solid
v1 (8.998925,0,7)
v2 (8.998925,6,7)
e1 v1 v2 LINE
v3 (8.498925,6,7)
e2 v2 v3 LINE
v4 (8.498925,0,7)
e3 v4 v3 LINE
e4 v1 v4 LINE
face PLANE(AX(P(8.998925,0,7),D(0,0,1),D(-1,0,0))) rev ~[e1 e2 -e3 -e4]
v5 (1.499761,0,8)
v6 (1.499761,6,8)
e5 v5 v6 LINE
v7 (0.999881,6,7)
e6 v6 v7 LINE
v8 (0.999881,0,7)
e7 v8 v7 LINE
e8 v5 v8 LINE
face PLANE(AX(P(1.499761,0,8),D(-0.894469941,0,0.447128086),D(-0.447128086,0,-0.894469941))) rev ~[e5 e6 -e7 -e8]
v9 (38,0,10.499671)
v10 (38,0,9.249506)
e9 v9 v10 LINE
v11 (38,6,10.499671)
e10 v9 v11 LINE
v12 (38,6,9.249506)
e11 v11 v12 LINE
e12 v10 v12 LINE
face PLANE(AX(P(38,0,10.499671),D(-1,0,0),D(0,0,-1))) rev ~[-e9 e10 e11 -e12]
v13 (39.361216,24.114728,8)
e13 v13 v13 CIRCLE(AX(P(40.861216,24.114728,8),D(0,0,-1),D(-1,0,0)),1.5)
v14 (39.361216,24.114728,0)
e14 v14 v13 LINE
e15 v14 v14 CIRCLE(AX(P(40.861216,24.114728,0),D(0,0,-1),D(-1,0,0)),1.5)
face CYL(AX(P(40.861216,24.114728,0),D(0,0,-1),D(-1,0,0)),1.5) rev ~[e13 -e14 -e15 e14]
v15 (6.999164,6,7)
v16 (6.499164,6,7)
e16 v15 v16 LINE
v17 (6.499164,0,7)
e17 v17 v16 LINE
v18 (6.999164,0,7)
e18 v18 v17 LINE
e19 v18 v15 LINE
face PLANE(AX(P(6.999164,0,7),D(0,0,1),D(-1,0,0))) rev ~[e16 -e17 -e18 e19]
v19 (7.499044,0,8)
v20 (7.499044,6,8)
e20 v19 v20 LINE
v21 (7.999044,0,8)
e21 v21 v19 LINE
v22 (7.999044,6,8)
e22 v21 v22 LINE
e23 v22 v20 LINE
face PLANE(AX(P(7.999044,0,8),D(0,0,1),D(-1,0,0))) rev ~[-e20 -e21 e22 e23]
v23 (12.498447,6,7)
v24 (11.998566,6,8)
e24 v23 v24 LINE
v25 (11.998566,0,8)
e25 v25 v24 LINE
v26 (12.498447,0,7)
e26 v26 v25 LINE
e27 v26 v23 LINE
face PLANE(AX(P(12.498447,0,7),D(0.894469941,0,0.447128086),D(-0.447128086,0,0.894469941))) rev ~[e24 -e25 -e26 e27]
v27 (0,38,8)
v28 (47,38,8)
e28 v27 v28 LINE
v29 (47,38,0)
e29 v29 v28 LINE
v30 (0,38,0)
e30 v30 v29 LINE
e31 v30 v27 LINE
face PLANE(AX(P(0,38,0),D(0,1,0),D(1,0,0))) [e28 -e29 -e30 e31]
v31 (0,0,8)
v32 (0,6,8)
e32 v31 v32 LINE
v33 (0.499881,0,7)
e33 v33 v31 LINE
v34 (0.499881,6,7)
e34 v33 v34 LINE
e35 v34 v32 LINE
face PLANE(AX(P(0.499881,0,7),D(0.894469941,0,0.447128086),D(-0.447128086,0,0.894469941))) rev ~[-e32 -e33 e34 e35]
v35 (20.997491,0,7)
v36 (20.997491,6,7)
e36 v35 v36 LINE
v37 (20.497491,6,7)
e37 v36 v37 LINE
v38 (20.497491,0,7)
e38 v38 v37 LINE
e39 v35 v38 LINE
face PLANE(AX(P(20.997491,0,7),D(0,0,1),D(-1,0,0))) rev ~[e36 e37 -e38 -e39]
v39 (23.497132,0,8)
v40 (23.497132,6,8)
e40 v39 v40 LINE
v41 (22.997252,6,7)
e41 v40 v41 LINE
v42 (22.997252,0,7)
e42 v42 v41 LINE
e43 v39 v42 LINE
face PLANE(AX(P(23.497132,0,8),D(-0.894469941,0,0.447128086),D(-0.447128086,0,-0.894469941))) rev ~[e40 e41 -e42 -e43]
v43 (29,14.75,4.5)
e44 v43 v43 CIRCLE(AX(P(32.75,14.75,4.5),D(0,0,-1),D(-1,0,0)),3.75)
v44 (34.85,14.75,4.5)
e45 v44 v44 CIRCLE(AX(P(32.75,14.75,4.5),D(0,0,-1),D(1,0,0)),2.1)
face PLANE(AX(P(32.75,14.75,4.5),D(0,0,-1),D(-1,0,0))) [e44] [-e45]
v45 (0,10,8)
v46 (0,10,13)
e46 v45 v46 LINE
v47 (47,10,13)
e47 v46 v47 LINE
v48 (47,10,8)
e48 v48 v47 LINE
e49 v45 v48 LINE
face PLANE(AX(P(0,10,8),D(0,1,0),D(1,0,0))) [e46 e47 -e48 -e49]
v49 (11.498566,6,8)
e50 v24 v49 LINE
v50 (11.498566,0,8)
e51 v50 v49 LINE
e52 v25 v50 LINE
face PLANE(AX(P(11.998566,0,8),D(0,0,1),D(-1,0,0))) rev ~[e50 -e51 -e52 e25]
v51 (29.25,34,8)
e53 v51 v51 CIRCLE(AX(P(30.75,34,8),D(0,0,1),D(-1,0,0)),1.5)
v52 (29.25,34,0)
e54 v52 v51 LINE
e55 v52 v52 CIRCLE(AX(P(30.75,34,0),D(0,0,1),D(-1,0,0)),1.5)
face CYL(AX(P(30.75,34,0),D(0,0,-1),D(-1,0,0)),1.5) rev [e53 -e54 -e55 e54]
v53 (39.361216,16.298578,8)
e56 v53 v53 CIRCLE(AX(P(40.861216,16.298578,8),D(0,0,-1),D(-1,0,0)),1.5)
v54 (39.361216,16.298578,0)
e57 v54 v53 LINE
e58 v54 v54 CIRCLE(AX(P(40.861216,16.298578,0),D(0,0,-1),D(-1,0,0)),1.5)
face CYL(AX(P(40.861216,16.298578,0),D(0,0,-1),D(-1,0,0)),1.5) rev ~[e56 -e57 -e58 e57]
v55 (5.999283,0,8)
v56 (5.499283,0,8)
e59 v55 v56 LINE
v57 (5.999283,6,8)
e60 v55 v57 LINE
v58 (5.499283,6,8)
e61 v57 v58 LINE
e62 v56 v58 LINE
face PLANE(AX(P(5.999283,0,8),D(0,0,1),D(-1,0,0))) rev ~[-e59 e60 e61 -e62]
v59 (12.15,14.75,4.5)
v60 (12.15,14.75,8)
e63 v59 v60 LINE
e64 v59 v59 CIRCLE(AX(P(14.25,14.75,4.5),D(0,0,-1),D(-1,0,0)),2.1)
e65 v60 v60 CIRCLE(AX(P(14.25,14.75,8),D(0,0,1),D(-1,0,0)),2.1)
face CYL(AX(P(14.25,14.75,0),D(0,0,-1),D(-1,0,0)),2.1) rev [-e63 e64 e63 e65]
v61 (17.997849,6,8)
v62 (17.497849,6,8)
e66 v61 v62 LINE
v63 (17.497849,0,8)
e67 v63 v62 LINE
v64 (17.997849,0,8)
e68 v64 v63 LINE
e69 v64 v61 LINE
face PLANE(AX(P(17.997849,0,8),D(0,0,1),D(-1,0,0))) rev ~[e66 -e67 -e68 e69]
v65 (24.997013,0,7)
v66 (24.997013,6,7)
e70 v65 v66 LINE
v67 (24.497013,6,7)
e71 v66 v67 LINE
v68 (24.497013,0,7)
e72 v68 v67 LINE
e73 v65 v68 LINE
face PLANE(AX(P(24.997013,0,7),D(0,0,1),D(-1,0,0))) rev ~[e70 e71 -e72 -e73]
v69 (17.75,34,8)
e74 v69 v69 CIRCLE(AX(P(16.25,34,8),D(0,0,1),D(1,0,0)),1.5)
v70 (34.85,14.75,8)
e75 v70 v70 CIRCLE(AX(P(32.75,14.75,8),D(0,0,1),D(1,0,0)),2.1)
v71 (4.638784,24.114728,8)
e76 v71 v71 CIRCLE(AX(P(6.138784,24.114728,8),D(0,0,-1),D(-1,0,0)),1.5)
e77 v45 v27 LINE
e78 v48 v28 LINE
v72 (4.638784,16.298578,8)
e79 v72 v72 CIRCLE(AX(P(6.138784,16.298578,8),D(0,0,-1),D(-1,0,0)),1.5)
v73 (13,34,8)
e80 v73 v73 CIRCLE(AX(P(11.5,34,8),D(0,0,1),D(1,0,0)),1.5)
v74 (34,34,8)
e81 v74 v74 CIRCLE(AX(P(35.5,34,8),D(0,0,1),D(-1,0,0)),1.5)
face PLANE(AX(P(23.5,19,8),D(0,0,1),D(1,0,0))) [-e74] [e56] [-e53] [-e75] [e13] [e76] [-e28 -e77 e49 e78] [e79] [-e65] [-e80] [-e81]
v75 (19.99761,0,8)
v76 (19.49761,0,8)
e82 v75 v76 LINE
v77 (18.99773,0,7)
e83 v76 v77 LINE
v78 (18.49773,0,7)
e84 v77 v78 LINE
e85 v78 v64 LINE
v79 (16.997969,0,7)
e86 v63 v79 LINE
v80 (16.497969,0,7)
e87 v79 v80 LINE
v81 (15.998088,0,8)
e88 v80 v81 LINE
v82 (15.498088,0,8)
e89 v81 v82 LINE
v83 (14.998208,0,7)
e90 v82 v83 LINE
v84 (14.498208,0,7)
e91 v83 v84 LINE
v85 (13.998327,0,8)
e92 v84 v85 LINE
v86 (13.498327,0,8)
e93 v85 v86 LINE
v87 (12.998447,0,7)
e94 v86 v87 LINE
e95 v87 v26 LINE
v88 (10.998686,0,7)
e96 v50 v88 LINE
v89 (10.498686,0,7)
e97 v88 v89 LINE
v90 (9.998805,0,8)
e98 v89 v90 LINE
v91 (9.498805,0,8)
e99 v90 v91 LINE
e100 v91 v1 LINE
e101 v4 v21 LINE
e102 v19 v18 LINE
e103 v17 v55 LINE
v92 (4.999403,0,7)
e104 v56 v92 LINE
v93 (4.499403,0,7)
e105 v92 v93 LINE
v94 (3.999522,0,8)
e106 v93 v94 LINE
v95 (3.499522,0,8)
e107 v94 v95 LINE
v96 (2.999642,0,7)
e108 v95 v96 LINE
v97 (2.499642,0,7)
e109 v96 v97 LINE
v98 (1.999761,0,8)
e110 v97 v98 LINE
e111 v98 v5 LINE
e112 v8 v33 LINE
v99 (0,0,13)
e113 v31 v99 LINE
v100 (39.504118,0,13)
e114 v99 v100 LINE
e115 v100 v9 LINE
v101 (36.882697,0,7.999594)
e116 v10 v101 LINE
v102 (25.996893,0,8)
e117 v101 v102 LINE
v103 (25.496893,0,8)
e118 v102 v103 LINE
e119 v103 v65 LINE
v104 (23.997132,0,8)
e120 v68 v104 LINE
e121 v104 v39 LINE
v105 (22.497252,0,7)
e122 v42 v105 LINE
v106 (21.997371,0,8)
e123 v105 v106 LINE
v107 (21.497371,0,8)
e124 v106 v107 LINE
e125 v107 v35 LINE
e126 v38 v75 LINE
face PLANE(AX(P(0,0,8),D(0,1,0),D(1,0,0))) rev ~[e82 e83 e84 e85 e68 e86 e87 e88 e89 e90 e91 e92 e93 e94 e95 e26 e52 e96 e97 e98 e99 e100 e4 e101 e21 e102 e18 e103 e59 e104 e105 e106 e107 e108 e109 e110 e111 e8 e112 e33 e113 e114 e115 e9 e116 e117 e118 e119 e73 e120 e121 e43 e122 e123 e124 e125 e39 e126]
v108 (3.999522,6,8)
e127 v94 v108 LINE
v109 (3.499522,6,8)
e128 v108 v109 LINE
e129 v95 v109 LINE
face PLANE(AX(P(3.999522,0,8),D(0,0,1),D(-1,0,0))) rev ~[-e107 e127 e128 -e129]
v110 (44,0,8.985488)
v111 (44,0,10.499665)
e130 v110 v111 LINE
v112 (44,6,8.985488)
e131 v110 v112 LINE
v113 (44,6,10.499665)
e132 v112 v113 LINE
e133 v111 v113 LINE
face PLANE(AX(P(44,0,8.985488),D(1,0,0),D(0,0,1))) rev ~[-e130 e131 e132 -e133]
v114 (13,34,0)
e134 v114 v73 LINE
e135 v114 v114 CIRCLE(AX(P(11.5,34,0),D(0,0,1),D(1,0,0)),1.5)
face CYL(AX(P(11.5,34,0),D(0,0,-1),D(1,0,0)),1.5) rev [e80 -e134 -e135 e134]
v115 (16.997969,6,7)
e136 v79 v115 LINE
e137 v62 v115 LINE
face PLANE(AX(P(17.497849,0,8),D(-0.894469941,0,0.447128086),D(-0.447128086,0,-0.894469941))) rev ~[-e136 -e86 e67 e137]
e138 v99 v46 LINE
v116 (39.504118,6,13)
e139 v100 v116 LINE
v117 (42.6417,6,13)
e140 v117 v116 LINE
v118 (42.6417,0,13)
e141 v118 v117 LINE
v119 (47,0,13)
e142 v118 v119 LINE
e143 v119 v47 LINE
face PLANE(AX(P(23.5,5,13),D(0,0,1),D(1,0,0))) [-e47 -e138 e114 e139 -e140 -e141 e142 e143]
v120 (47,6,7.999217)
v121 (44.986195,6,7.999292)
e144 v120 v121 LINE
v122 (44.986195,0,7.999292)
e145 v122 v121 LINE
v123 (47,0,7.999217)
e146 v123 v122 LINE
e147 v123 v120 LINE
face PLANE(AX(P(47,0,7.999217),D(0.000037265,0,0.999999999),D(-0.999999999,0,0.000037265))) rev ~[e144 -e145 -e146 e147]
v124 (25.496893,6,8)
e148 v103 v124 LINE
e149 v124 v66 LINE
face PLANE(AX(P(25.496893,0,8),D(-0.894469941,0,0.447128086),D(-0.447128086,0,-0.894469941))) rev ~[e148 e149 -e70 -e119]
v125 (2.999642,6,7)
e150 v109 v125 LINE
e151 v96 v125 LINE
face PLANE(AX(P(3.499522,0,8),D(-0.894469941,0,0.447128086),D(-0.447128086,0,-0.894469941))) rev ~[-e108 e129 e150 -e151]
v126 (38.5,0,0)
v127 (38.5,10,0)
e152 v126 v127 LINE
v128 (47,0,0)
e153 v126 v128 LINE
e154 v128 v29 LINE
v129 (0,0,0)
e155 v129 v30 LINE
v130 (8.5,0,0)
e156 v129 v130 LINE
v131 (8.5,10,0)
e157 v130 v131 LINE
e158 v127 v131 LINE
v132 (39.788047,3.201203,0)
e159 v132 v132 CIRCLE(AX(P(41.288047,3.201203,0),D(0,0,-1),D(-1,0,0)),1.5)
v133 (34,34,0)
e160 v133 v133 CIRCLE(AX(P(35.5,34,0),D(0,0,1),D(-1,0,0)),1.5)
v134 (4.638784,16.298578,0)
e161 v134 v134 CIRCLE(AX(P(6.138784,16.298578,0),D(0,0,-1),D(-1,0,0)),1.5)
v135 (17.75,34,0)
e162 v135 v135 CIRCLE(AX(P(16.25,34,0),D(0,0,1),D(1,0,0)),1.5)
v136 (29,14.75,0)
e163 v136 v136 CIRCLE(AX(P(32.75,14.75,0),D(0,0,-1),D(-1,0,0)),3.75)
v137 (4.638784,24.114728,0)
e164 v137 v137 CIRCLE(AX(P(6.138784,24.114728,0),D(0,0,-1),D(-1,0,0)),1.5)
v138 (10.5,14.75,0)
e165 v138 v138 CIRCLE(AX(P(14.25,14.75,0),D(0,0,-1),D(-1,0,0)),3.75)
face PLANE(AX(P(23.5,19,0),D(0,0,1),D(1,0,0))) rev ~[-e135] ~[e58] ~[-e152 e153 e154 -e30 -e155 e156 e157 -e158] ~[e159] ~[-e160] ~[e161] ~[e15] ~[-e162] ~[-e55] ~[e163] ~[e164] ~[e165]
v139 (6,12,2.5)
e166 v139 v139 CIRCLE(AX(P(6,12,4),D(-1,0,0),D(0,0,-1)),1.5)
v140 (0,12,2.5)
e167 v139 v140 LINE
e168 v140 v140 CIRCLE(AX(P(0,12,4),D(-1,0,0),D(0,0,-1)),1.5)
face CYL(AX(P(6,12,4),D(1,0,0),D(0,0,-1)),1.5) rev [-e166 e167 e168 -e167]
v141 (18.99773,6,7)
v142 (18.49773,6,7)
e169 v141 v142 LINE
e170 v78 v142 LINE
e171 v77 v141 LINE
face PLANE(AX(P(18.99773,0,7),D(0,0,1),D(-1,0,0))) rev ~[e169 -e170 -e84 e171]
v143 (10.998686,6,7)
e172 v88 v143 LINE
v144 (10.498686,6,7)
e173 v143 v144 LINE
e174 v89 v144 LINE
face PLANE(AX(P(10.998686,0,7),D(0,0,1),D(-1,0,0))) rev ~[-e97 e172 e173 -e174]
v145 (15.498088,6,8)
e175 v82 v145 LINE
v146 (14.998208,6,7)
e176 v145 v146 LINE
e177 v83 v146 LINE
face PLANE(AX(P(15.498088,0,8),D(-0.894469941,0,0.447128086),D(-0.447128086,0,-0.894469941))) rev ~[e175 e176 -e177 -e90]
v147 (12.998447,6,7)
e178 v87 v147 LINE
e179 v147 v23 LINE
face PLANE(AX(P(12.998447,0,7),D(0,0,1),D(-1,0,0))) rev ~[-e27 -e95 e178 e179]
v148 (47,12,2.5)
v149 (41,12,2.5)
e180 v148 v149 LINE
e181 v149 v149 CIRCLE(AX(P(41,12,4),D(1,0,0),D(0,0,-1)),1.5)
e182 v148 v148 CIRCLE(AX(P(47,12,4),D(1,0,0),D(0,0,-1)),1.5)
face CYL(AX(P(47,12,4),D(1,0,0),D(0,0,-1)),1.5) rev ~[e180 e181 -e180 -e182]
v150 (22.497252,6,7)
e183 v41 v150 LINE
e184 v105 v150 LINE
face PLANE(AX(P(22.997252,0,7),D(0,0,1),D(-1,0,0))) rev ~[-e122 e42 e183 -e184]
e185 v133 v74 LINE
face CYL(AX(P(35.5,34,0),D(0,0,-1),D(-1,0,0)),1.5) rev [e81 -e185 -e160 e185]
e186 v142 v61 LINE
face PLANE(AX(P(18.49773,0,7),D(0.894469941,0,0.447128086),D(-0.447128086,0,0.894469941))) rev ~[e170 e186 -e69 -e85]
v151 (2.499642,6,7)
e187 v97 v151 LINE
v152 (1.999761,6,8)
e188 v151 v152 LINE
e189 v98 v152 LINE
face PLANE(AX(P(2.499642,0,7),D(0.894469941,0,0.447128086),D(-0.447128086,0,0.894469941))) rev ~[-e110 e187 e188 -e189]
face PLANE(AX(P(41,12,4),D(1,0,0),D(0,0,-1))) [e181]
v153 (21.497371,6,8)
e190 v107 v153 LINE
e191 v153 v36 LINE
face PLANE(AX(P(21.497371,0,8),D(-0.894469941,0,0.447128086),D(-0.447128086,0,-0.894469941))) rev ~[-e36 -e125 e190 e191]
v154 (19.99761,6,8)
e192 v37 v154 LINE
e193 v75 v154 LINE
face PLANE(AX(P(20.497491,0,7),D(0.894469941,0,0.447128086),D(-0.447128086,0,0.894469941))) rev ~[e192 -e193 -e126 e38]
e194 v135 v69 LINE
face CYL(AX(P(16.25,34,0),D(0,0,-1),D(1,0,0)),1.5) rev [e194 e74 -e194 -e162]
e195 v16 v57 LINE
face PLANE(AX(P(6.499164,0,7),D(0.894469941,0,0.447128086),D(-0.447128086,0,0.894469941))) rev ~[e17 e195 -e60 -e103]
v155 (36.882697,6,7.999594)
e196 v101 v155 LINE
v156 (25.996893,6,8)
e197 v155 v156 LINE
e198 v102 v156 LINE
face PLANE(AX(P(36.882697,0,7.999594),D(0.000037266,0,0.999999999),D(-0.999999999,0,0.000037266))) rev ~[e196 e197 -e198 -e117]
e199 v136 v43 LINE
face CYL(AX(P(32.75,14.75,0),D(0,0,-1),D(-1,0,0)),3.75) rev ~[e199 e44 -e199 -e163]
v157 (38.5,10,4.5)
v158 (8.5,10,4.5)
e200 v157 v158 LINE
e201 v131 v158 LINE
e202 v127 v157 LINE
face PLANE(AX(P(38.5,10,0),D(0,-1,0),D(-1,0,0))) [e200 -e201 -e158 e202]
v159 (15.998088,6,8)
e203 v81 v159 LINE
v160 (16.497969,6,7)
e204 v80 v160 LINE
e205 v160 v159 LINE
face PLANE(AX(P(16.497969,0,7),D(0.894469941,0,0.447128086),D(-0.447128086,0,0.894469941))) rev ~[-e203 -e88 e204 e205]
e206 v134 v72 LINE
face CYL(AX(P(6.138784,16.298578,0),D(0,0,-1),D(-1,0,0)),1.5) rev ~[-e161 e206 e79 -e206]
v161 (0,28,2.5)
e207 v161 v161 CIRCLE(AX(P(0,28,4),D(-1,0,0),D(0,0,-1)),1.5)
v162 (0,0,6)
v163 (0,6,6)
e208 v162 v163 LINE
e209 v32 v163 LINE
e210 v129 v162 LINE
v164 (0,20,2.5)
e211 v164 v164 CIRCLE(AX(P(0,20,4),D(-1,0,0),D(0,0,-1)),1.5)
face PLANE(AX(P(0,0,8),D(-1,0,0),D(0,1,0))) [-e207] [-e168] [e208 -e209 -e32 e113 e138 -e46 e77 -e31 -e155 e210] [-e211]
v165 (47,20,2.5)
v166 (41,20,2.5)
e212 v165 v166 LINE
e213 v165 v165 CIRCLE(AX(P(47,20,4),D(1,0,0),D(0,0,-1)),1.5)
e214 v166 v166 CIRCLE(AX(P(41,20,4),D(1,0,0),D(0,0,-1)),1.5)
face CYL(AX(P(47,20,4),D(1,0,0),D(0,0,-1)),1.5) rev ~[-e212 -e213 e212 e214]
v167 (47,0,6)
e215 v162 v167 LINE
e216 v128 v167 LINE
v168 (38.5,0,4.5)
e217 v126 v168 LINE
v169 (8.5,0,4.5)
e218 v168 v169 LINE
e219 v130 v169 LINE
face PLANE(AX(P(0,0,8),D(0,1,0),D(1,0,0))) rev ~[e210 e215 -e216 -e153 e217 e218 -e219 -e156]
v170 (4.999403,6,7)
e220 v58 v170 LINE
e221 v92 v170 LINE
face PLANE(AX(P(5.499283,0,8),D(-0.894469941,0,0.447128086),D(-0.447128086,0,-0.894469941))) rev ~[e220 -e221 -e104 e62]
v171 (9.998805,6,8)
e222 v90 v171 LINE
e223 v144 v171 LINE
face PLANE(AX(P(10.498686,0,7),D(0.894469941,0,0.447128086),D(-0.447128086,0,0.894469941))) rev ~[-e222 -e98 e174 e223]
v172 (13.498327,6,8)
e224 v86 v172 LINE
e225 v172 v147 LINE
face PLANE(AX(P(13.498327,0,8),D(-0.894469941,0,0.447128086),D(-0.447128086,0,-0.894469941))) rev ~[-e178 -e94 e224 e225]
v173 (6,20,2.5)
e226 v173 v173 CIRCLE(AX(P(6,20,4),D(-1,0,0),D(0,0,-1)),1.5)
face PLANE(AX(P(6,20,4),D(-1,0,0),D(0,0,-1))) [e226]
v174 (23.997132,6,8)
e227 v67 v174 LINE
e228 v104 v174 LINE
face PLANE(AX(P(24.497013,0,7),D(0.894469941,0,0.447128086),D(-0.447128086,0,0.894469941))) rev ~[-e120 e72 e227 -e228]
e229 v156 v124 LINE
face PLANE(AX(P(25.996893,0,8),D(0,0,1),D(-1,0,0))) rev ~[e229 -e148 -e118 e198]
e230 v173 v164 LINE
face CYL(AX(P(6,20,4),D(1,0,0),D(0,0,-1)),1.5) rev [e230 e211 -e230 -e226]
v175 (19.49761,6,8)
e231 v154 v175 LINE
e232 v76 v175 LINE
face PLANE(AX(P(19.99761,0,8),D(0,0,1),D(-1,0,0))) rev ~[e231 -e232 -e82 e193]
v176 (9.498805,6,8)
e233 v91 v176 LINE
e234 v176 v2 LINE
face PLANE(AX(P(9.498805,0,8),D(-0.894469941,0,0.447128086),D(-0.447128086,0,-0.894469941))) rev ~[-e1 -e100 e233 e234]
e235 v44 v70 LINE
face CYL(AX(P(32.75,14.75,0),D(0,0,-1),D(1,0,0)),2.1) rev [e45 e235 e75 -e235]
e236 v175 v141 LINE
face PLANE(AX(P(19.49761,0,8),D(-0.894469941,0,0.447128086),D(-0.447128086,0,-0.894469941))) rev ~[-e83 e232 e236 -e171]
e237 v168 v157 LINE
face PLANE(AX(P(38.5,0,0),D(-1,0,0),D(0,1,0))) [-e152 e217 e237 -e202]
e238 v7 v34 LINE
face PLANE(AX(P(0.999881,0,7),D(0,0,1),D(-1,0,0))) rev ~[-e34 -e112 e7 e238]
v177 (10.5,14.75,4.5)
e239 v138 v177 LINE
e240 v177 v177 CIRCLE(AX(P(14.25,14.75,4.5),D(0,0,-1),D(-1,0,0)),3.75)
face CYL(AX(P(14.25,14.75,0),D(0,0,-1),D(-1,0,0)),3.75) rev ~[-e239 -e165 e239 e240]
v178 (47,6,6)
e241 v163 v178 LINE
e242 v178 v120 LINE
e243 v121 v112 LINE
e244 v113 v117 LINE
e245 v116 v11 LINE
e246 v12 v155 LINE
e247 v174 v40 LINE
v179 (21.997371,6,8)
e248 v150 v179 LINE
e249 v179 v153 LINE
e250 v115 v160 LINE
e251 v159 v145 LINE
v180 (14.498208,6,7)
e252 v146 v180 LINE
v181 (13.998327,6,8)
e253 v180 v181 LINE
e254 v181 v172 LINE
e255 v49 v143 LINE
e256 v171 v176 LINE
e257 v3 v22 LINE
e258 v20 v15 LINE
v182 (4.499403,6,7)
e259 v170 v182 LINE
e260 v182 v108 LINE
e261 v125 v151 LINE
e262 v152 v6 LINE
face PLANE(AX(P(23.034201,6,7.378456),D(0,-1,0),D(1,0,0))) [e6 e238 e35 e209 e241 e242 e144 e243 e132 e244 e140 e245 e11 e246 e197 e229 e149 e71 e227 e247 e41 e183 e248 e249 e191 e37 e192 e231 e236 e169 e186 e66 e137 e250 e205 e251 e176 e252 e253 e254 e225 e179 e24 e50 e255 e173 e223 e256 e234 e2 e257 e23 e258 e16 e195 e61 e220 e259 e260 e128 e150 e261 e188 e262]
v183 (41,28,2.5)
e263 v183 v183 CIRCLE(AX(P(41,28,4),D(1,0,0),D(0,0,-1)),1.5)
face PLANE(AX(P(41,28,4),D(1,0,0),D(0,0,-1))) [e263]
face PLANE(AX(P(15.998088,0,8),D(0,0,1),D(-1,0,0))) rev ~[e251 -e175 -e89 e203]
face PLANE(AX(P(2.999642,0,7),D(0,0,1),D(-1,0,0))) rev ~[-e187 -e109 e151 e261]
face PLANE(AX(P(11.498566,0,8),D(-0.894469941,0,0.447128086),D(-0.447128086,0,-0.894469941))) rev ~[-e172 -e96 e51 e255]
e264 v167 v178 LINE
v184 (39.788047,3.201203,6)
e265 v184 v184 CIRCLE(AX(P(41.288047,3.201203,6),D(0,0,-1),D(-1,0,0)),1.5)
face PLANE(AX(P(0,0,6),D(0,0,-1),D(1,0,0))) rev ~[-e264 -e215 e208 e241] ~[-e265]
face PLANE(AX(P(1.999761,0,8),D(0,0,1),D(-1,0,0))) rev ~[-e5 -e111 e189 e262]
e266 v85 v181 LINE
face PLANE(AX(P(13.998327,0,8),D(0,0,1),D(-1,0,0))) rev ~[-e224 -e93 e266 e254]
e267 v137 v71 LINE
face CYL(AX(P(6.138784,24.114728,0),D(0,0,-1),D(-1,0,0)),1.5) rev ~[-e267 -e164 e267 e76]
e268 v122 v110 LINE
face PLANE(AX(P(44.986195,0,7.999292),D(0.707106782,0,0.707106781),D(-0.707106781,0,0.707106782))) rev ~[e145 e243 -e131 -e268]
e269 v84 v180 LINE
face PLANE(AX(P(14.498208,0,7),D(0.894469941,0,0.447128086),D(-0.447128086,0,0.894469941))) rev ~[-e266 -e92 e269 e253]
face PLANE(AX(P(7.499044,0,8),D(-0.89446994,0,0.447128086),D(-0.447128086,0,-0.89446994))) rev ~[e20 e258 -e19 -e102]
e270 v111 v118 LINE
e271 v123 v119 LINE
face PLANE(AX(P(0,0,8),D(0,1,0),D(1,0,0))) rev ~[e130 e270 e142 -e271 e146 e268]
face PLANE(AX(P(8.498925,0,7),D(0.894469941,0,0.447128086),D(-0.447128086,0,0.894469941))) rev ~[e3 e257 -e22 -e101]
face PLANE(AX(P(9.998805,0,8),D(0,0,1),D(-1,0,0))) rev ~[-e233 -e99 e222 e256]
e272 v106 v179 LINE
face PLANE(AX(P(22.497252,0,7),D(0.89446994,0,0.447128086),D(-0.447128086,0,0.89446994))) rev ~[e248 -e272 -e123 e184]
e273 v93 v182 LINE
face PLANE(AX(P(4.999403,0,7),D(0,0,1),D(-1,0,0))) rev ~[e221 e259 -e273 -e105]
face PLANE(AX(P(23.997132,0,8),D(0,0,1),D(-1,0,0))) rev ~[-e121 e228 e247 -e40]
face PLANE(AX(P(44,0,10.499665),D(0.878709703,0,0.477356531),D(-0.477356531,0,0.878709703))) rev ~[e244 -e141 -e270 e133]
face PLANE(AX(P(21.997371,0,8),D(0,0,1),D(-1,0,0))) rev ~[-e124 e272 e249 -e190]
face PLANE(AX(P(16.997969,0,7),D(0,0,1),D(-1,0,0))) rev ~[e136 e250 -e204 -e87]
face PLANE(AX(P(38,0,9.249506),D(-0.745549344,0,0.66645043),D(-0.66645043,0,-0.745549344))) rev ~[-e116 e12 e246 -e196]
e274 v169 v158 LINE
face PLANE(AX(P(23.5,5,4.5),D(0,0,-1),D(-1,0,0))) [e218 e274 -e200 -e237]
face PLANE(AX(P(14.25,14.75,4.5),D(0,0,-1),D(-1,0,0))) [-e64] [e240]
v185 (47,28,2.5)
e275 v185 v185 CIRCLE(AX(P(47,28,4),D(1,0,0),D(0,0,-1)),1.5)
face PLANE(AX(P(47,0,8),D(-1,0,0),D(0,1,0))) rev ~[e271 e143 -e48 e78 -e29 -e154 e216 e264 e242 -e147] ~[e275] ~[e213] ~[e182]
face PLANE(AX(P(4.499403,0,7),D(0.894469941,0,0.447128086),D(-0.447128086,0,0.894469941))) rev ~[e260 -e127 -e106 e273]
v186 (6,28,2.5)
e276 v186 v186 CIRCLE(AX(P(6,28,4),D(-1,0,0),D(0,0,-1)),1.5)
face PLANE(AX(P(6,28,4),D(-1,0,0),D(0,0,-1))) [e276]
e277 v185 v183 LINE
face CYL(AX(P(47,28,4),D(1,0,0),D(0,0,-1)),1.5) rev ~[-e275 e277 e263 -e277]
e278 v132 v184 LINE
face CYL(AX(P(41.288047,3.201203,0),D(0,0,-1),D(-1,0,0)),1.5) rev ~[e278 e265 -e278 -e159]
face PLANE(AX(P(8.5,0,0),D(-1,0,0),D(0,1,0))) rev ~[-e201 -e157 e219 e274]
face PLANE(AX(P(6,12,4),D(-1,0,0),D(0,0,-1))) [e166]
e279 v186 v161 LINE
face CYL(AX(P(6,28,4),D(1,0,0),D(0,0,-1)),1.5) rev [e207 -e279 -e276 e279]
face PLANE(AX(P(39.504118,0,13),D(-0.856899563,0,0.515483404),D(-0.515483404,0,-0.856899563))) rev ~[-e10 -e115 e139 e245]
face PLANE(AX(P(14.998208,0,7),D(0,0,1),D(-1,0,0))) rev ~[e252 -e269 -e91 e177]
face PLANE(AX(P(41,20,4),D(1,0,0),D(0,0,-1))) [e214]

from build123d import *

# Parameters (mm, degrees)
SKETCH_1_W          = 47
SKETCH_1_H          = 38
SKETCH_1_R          = 1.5
SKETCH_1_R_2        = 2.1
EXTRUDE_1_DEPTH     = 8
SKETCH_2_R          = 3.75
SKETCH_2_W          = 30
SKETCH_2_H          = 10
CUT_EXTRUDE_1_DEPTH = 4.5
SKETCH_3_W          = 47
SKETCH_3_H          = 10
EXTRUDE_2_DEPTH     = 5
CUT_EXTRUDE_2_DEPTH = 6
SKETCH_5_R          = 1.5
CUT_EXTRUDE_3_DEPTH = 6
SKETCH_6_R          = 1.5
CUT_EXTRUDE_4_DEPTH = 6
CUT_EXTRUDE_START   = -6
SKETCH_7_R          = 1.5
CUT_EXTRUDE_5_DEPTH = 6
SKETCH_8_R          = 1.5
CUT_EXTRUDE_6_DEPTH = 62.822326064


with BuildPart() as part:
    # 草图1 → 凸台-拉伸1 (new body)
    with BuildSketch(Plane.XY):
        with Locations((23.5, 19)):
            Rectangle(SKETCH_1_W, SKETCH_1_H)
        with Locations((16.25, 34)):
            Circle(SKETCH_1_R, mode=Mode.SUBTRACT)
        with Locations((30.75, 34)):
            Circle(SKETCH_1_R, mode=Mode.SUBTRACT)
        with Locations((32.75, 14.75)):
            Circle(SKETCH_1_R_2, mode=Mode.SUBTRACT)
        with Locations((14.25, 14.75)):
            Circle(SKETCH_1_R_2, mode=Mode.SUBTRACT)
        with Locations((11.5, 34)):
            Circle(SKETCH_1_R, mode=Mode.SUBTRACT)
        with Locations((35.5, 34)):
            Circle(SKETCH_1_R, mode=Mode.SUBTRACT)
    extrude(amount=EXTRUDE_1_DEPTH)

    # 草图2 → 切除-拉伸1 (cut)
    with BuildSketch(Plane(origin=(0, 0, 0), x_dir=(-1, 0, 0), z_dir=(0, 0, -1))):
        with Locations((-32.75, 14.75)):
            Circle(SKETCH_2_R)
        with Locations((-14.25, 14.75)):
            Circle(SKETCH_2_R)
        with Locations((-23.5, 5)):
            Rectangle(SKETCH_2_W, SKETCH_2_H)
    extrude(amount=-CUT_EXTRUDE_1_DEPTH, mode=Mode.SUBTRACT)

    # 草图3 → 凸台-拉伸2 (add)
    with BuildSketch(Plane.XY.offset(8)):
        with Locations((23.5, 5)):
            Rectangle(SKETCH_3_W, SKETCH_3_H)
    extrude(amount=EXTRUDE_2_DEPTH)

    # 草图4 → 切除-拉伸2 (cut)
    with BuildSketch(Plane.XZ):
        Polygon((0.499880505, 7), (0, 8), (0, 6), (47, 6), (47, 7.999217306), (44.9861953, 7.999292351), (44, 8.985487652), (44, 10.499664551), (42.641699926, 13), (39.504118259, 13), (38, 10.499670662), (38, 9.249505993), (36.882697476, 7.999594333), (25.996893132, 8), (25.496893132, 8), (24.997012627, 7), (24.497012627, 7), (23.997132122, 8), (23.497132122, 8), (22.997251617, 7), (22.497251617, 7), (21.997371111, 8), (21.497371111, 8), (20.997490606, 7), (20.497490606, 7), (19.997610101, 8), (19.497610101, 8), (18.997729596, 7), (18.497729596, 7), (17.997849091, 8), (17.497849091, 8), (16.997968586, 7), (16.497968586, 7), (15.998088081, 8), (15.498088081, 8), (14.998207576, 7), (14.498207576, 7), (13.998327071, 8), (13.498327071, 8), (12.998446566, 7), (12.498446566, 7), (11.998566061, 8), (11.498566061, 8), (10.998685556, 7), (10.498685556, 7), (9.998805051, 8), (9.498805051, 8), (8.998924546, 7), (8.498924546, 7), (7.999044041, 8), (7.499044041, 8), (6.999163535, 7), (6.499163535, 7), (5.99928303, 8), (5.49928303, 8), (4.999402525, 7), (4.499402525, 7), (3.99952202, 8), (3.49952202, 8), (2.999641515, 7), (2.499641515, 7), (1.99976101, 8), (1.49976101, 8), (0.999880505, 7), align=None)
    extrude(amount=-CUT_EXTRUDE_2_DEPTH, mode=Mode.SUBTRACT)

    # 草图5 → 切除-拉伸3 (cut)
    with BuildSketch(Plane(origin=(0, 0, 0), x_dir=(-1, 0, 0), z_dir=(0, 0, -1))):
        with Locations((-41.288047011, 3.201203266)):
            Circle(SKETCH_5_R)
    extrude(amount=-CUT_EXTRUDE_3_DEPTH, mode=Mode.SUBTRACT)

    # 草图6 → 切除-拉伸4 (cut)
    with BuildSketch(Plane(origin=(47, 0, 0), x_dir=(0, 0, -1), z_dir=(1, 0, 0))):
        with Locations((-4, 12)):
            Circle(SKETCH_6_R)
        with Locations((-4, 20)):
            Circle(SKETCH_6_R)
        with Locations((-4, 28)):
            Circle(SKETCH_6_R)
    extrude(amount=-CUT_EXTRUDE_4_DEPTH, mode=Mode.SUBTRACT)

    # 草图7 → 切除-拉伸5 (cut)
    with BuildSketch(Plane.ZY.offset(CUT_EXTRUDE_START)):
        with Locations((4, 12)):
            Circle(SKETCH_7_R)
        with Locations((4, 20)):
            Circle(SKETCH_7_R)
        with Locations((4, 28)):
            Circle(SKETCH_7_R)
    extrude(amount=CUT_EXTRUDE_5_DEPTH, mode=Mode.SUBTRACT)

    # 草图8 → 切除-拉伸6 (cut, through all)
    with BuildSketch(Plane(origin=(0, 0, 0), x_dir=(-1, 0, 0), z_dir=(0, 0, -1))):
        with Locations((-40.861215873, 16.298578495)):
            Circle(SKETCH_8_R)
        with Locations((-40.861215873, 24.11472755)):
            Circle(SKETCH_8_R)
        with Locations((-6.138784127, 16.298578495)):
            Circle(SKETCH_8_R)
        with Locations((-6.138784127, 24.11472755)):
            Circle(SKETCH_8_R)
    extrude(amount=-CUT_EXTRUDE_6_DEPTH, mode=Mode.SUBTRACT)


solid = part.part
